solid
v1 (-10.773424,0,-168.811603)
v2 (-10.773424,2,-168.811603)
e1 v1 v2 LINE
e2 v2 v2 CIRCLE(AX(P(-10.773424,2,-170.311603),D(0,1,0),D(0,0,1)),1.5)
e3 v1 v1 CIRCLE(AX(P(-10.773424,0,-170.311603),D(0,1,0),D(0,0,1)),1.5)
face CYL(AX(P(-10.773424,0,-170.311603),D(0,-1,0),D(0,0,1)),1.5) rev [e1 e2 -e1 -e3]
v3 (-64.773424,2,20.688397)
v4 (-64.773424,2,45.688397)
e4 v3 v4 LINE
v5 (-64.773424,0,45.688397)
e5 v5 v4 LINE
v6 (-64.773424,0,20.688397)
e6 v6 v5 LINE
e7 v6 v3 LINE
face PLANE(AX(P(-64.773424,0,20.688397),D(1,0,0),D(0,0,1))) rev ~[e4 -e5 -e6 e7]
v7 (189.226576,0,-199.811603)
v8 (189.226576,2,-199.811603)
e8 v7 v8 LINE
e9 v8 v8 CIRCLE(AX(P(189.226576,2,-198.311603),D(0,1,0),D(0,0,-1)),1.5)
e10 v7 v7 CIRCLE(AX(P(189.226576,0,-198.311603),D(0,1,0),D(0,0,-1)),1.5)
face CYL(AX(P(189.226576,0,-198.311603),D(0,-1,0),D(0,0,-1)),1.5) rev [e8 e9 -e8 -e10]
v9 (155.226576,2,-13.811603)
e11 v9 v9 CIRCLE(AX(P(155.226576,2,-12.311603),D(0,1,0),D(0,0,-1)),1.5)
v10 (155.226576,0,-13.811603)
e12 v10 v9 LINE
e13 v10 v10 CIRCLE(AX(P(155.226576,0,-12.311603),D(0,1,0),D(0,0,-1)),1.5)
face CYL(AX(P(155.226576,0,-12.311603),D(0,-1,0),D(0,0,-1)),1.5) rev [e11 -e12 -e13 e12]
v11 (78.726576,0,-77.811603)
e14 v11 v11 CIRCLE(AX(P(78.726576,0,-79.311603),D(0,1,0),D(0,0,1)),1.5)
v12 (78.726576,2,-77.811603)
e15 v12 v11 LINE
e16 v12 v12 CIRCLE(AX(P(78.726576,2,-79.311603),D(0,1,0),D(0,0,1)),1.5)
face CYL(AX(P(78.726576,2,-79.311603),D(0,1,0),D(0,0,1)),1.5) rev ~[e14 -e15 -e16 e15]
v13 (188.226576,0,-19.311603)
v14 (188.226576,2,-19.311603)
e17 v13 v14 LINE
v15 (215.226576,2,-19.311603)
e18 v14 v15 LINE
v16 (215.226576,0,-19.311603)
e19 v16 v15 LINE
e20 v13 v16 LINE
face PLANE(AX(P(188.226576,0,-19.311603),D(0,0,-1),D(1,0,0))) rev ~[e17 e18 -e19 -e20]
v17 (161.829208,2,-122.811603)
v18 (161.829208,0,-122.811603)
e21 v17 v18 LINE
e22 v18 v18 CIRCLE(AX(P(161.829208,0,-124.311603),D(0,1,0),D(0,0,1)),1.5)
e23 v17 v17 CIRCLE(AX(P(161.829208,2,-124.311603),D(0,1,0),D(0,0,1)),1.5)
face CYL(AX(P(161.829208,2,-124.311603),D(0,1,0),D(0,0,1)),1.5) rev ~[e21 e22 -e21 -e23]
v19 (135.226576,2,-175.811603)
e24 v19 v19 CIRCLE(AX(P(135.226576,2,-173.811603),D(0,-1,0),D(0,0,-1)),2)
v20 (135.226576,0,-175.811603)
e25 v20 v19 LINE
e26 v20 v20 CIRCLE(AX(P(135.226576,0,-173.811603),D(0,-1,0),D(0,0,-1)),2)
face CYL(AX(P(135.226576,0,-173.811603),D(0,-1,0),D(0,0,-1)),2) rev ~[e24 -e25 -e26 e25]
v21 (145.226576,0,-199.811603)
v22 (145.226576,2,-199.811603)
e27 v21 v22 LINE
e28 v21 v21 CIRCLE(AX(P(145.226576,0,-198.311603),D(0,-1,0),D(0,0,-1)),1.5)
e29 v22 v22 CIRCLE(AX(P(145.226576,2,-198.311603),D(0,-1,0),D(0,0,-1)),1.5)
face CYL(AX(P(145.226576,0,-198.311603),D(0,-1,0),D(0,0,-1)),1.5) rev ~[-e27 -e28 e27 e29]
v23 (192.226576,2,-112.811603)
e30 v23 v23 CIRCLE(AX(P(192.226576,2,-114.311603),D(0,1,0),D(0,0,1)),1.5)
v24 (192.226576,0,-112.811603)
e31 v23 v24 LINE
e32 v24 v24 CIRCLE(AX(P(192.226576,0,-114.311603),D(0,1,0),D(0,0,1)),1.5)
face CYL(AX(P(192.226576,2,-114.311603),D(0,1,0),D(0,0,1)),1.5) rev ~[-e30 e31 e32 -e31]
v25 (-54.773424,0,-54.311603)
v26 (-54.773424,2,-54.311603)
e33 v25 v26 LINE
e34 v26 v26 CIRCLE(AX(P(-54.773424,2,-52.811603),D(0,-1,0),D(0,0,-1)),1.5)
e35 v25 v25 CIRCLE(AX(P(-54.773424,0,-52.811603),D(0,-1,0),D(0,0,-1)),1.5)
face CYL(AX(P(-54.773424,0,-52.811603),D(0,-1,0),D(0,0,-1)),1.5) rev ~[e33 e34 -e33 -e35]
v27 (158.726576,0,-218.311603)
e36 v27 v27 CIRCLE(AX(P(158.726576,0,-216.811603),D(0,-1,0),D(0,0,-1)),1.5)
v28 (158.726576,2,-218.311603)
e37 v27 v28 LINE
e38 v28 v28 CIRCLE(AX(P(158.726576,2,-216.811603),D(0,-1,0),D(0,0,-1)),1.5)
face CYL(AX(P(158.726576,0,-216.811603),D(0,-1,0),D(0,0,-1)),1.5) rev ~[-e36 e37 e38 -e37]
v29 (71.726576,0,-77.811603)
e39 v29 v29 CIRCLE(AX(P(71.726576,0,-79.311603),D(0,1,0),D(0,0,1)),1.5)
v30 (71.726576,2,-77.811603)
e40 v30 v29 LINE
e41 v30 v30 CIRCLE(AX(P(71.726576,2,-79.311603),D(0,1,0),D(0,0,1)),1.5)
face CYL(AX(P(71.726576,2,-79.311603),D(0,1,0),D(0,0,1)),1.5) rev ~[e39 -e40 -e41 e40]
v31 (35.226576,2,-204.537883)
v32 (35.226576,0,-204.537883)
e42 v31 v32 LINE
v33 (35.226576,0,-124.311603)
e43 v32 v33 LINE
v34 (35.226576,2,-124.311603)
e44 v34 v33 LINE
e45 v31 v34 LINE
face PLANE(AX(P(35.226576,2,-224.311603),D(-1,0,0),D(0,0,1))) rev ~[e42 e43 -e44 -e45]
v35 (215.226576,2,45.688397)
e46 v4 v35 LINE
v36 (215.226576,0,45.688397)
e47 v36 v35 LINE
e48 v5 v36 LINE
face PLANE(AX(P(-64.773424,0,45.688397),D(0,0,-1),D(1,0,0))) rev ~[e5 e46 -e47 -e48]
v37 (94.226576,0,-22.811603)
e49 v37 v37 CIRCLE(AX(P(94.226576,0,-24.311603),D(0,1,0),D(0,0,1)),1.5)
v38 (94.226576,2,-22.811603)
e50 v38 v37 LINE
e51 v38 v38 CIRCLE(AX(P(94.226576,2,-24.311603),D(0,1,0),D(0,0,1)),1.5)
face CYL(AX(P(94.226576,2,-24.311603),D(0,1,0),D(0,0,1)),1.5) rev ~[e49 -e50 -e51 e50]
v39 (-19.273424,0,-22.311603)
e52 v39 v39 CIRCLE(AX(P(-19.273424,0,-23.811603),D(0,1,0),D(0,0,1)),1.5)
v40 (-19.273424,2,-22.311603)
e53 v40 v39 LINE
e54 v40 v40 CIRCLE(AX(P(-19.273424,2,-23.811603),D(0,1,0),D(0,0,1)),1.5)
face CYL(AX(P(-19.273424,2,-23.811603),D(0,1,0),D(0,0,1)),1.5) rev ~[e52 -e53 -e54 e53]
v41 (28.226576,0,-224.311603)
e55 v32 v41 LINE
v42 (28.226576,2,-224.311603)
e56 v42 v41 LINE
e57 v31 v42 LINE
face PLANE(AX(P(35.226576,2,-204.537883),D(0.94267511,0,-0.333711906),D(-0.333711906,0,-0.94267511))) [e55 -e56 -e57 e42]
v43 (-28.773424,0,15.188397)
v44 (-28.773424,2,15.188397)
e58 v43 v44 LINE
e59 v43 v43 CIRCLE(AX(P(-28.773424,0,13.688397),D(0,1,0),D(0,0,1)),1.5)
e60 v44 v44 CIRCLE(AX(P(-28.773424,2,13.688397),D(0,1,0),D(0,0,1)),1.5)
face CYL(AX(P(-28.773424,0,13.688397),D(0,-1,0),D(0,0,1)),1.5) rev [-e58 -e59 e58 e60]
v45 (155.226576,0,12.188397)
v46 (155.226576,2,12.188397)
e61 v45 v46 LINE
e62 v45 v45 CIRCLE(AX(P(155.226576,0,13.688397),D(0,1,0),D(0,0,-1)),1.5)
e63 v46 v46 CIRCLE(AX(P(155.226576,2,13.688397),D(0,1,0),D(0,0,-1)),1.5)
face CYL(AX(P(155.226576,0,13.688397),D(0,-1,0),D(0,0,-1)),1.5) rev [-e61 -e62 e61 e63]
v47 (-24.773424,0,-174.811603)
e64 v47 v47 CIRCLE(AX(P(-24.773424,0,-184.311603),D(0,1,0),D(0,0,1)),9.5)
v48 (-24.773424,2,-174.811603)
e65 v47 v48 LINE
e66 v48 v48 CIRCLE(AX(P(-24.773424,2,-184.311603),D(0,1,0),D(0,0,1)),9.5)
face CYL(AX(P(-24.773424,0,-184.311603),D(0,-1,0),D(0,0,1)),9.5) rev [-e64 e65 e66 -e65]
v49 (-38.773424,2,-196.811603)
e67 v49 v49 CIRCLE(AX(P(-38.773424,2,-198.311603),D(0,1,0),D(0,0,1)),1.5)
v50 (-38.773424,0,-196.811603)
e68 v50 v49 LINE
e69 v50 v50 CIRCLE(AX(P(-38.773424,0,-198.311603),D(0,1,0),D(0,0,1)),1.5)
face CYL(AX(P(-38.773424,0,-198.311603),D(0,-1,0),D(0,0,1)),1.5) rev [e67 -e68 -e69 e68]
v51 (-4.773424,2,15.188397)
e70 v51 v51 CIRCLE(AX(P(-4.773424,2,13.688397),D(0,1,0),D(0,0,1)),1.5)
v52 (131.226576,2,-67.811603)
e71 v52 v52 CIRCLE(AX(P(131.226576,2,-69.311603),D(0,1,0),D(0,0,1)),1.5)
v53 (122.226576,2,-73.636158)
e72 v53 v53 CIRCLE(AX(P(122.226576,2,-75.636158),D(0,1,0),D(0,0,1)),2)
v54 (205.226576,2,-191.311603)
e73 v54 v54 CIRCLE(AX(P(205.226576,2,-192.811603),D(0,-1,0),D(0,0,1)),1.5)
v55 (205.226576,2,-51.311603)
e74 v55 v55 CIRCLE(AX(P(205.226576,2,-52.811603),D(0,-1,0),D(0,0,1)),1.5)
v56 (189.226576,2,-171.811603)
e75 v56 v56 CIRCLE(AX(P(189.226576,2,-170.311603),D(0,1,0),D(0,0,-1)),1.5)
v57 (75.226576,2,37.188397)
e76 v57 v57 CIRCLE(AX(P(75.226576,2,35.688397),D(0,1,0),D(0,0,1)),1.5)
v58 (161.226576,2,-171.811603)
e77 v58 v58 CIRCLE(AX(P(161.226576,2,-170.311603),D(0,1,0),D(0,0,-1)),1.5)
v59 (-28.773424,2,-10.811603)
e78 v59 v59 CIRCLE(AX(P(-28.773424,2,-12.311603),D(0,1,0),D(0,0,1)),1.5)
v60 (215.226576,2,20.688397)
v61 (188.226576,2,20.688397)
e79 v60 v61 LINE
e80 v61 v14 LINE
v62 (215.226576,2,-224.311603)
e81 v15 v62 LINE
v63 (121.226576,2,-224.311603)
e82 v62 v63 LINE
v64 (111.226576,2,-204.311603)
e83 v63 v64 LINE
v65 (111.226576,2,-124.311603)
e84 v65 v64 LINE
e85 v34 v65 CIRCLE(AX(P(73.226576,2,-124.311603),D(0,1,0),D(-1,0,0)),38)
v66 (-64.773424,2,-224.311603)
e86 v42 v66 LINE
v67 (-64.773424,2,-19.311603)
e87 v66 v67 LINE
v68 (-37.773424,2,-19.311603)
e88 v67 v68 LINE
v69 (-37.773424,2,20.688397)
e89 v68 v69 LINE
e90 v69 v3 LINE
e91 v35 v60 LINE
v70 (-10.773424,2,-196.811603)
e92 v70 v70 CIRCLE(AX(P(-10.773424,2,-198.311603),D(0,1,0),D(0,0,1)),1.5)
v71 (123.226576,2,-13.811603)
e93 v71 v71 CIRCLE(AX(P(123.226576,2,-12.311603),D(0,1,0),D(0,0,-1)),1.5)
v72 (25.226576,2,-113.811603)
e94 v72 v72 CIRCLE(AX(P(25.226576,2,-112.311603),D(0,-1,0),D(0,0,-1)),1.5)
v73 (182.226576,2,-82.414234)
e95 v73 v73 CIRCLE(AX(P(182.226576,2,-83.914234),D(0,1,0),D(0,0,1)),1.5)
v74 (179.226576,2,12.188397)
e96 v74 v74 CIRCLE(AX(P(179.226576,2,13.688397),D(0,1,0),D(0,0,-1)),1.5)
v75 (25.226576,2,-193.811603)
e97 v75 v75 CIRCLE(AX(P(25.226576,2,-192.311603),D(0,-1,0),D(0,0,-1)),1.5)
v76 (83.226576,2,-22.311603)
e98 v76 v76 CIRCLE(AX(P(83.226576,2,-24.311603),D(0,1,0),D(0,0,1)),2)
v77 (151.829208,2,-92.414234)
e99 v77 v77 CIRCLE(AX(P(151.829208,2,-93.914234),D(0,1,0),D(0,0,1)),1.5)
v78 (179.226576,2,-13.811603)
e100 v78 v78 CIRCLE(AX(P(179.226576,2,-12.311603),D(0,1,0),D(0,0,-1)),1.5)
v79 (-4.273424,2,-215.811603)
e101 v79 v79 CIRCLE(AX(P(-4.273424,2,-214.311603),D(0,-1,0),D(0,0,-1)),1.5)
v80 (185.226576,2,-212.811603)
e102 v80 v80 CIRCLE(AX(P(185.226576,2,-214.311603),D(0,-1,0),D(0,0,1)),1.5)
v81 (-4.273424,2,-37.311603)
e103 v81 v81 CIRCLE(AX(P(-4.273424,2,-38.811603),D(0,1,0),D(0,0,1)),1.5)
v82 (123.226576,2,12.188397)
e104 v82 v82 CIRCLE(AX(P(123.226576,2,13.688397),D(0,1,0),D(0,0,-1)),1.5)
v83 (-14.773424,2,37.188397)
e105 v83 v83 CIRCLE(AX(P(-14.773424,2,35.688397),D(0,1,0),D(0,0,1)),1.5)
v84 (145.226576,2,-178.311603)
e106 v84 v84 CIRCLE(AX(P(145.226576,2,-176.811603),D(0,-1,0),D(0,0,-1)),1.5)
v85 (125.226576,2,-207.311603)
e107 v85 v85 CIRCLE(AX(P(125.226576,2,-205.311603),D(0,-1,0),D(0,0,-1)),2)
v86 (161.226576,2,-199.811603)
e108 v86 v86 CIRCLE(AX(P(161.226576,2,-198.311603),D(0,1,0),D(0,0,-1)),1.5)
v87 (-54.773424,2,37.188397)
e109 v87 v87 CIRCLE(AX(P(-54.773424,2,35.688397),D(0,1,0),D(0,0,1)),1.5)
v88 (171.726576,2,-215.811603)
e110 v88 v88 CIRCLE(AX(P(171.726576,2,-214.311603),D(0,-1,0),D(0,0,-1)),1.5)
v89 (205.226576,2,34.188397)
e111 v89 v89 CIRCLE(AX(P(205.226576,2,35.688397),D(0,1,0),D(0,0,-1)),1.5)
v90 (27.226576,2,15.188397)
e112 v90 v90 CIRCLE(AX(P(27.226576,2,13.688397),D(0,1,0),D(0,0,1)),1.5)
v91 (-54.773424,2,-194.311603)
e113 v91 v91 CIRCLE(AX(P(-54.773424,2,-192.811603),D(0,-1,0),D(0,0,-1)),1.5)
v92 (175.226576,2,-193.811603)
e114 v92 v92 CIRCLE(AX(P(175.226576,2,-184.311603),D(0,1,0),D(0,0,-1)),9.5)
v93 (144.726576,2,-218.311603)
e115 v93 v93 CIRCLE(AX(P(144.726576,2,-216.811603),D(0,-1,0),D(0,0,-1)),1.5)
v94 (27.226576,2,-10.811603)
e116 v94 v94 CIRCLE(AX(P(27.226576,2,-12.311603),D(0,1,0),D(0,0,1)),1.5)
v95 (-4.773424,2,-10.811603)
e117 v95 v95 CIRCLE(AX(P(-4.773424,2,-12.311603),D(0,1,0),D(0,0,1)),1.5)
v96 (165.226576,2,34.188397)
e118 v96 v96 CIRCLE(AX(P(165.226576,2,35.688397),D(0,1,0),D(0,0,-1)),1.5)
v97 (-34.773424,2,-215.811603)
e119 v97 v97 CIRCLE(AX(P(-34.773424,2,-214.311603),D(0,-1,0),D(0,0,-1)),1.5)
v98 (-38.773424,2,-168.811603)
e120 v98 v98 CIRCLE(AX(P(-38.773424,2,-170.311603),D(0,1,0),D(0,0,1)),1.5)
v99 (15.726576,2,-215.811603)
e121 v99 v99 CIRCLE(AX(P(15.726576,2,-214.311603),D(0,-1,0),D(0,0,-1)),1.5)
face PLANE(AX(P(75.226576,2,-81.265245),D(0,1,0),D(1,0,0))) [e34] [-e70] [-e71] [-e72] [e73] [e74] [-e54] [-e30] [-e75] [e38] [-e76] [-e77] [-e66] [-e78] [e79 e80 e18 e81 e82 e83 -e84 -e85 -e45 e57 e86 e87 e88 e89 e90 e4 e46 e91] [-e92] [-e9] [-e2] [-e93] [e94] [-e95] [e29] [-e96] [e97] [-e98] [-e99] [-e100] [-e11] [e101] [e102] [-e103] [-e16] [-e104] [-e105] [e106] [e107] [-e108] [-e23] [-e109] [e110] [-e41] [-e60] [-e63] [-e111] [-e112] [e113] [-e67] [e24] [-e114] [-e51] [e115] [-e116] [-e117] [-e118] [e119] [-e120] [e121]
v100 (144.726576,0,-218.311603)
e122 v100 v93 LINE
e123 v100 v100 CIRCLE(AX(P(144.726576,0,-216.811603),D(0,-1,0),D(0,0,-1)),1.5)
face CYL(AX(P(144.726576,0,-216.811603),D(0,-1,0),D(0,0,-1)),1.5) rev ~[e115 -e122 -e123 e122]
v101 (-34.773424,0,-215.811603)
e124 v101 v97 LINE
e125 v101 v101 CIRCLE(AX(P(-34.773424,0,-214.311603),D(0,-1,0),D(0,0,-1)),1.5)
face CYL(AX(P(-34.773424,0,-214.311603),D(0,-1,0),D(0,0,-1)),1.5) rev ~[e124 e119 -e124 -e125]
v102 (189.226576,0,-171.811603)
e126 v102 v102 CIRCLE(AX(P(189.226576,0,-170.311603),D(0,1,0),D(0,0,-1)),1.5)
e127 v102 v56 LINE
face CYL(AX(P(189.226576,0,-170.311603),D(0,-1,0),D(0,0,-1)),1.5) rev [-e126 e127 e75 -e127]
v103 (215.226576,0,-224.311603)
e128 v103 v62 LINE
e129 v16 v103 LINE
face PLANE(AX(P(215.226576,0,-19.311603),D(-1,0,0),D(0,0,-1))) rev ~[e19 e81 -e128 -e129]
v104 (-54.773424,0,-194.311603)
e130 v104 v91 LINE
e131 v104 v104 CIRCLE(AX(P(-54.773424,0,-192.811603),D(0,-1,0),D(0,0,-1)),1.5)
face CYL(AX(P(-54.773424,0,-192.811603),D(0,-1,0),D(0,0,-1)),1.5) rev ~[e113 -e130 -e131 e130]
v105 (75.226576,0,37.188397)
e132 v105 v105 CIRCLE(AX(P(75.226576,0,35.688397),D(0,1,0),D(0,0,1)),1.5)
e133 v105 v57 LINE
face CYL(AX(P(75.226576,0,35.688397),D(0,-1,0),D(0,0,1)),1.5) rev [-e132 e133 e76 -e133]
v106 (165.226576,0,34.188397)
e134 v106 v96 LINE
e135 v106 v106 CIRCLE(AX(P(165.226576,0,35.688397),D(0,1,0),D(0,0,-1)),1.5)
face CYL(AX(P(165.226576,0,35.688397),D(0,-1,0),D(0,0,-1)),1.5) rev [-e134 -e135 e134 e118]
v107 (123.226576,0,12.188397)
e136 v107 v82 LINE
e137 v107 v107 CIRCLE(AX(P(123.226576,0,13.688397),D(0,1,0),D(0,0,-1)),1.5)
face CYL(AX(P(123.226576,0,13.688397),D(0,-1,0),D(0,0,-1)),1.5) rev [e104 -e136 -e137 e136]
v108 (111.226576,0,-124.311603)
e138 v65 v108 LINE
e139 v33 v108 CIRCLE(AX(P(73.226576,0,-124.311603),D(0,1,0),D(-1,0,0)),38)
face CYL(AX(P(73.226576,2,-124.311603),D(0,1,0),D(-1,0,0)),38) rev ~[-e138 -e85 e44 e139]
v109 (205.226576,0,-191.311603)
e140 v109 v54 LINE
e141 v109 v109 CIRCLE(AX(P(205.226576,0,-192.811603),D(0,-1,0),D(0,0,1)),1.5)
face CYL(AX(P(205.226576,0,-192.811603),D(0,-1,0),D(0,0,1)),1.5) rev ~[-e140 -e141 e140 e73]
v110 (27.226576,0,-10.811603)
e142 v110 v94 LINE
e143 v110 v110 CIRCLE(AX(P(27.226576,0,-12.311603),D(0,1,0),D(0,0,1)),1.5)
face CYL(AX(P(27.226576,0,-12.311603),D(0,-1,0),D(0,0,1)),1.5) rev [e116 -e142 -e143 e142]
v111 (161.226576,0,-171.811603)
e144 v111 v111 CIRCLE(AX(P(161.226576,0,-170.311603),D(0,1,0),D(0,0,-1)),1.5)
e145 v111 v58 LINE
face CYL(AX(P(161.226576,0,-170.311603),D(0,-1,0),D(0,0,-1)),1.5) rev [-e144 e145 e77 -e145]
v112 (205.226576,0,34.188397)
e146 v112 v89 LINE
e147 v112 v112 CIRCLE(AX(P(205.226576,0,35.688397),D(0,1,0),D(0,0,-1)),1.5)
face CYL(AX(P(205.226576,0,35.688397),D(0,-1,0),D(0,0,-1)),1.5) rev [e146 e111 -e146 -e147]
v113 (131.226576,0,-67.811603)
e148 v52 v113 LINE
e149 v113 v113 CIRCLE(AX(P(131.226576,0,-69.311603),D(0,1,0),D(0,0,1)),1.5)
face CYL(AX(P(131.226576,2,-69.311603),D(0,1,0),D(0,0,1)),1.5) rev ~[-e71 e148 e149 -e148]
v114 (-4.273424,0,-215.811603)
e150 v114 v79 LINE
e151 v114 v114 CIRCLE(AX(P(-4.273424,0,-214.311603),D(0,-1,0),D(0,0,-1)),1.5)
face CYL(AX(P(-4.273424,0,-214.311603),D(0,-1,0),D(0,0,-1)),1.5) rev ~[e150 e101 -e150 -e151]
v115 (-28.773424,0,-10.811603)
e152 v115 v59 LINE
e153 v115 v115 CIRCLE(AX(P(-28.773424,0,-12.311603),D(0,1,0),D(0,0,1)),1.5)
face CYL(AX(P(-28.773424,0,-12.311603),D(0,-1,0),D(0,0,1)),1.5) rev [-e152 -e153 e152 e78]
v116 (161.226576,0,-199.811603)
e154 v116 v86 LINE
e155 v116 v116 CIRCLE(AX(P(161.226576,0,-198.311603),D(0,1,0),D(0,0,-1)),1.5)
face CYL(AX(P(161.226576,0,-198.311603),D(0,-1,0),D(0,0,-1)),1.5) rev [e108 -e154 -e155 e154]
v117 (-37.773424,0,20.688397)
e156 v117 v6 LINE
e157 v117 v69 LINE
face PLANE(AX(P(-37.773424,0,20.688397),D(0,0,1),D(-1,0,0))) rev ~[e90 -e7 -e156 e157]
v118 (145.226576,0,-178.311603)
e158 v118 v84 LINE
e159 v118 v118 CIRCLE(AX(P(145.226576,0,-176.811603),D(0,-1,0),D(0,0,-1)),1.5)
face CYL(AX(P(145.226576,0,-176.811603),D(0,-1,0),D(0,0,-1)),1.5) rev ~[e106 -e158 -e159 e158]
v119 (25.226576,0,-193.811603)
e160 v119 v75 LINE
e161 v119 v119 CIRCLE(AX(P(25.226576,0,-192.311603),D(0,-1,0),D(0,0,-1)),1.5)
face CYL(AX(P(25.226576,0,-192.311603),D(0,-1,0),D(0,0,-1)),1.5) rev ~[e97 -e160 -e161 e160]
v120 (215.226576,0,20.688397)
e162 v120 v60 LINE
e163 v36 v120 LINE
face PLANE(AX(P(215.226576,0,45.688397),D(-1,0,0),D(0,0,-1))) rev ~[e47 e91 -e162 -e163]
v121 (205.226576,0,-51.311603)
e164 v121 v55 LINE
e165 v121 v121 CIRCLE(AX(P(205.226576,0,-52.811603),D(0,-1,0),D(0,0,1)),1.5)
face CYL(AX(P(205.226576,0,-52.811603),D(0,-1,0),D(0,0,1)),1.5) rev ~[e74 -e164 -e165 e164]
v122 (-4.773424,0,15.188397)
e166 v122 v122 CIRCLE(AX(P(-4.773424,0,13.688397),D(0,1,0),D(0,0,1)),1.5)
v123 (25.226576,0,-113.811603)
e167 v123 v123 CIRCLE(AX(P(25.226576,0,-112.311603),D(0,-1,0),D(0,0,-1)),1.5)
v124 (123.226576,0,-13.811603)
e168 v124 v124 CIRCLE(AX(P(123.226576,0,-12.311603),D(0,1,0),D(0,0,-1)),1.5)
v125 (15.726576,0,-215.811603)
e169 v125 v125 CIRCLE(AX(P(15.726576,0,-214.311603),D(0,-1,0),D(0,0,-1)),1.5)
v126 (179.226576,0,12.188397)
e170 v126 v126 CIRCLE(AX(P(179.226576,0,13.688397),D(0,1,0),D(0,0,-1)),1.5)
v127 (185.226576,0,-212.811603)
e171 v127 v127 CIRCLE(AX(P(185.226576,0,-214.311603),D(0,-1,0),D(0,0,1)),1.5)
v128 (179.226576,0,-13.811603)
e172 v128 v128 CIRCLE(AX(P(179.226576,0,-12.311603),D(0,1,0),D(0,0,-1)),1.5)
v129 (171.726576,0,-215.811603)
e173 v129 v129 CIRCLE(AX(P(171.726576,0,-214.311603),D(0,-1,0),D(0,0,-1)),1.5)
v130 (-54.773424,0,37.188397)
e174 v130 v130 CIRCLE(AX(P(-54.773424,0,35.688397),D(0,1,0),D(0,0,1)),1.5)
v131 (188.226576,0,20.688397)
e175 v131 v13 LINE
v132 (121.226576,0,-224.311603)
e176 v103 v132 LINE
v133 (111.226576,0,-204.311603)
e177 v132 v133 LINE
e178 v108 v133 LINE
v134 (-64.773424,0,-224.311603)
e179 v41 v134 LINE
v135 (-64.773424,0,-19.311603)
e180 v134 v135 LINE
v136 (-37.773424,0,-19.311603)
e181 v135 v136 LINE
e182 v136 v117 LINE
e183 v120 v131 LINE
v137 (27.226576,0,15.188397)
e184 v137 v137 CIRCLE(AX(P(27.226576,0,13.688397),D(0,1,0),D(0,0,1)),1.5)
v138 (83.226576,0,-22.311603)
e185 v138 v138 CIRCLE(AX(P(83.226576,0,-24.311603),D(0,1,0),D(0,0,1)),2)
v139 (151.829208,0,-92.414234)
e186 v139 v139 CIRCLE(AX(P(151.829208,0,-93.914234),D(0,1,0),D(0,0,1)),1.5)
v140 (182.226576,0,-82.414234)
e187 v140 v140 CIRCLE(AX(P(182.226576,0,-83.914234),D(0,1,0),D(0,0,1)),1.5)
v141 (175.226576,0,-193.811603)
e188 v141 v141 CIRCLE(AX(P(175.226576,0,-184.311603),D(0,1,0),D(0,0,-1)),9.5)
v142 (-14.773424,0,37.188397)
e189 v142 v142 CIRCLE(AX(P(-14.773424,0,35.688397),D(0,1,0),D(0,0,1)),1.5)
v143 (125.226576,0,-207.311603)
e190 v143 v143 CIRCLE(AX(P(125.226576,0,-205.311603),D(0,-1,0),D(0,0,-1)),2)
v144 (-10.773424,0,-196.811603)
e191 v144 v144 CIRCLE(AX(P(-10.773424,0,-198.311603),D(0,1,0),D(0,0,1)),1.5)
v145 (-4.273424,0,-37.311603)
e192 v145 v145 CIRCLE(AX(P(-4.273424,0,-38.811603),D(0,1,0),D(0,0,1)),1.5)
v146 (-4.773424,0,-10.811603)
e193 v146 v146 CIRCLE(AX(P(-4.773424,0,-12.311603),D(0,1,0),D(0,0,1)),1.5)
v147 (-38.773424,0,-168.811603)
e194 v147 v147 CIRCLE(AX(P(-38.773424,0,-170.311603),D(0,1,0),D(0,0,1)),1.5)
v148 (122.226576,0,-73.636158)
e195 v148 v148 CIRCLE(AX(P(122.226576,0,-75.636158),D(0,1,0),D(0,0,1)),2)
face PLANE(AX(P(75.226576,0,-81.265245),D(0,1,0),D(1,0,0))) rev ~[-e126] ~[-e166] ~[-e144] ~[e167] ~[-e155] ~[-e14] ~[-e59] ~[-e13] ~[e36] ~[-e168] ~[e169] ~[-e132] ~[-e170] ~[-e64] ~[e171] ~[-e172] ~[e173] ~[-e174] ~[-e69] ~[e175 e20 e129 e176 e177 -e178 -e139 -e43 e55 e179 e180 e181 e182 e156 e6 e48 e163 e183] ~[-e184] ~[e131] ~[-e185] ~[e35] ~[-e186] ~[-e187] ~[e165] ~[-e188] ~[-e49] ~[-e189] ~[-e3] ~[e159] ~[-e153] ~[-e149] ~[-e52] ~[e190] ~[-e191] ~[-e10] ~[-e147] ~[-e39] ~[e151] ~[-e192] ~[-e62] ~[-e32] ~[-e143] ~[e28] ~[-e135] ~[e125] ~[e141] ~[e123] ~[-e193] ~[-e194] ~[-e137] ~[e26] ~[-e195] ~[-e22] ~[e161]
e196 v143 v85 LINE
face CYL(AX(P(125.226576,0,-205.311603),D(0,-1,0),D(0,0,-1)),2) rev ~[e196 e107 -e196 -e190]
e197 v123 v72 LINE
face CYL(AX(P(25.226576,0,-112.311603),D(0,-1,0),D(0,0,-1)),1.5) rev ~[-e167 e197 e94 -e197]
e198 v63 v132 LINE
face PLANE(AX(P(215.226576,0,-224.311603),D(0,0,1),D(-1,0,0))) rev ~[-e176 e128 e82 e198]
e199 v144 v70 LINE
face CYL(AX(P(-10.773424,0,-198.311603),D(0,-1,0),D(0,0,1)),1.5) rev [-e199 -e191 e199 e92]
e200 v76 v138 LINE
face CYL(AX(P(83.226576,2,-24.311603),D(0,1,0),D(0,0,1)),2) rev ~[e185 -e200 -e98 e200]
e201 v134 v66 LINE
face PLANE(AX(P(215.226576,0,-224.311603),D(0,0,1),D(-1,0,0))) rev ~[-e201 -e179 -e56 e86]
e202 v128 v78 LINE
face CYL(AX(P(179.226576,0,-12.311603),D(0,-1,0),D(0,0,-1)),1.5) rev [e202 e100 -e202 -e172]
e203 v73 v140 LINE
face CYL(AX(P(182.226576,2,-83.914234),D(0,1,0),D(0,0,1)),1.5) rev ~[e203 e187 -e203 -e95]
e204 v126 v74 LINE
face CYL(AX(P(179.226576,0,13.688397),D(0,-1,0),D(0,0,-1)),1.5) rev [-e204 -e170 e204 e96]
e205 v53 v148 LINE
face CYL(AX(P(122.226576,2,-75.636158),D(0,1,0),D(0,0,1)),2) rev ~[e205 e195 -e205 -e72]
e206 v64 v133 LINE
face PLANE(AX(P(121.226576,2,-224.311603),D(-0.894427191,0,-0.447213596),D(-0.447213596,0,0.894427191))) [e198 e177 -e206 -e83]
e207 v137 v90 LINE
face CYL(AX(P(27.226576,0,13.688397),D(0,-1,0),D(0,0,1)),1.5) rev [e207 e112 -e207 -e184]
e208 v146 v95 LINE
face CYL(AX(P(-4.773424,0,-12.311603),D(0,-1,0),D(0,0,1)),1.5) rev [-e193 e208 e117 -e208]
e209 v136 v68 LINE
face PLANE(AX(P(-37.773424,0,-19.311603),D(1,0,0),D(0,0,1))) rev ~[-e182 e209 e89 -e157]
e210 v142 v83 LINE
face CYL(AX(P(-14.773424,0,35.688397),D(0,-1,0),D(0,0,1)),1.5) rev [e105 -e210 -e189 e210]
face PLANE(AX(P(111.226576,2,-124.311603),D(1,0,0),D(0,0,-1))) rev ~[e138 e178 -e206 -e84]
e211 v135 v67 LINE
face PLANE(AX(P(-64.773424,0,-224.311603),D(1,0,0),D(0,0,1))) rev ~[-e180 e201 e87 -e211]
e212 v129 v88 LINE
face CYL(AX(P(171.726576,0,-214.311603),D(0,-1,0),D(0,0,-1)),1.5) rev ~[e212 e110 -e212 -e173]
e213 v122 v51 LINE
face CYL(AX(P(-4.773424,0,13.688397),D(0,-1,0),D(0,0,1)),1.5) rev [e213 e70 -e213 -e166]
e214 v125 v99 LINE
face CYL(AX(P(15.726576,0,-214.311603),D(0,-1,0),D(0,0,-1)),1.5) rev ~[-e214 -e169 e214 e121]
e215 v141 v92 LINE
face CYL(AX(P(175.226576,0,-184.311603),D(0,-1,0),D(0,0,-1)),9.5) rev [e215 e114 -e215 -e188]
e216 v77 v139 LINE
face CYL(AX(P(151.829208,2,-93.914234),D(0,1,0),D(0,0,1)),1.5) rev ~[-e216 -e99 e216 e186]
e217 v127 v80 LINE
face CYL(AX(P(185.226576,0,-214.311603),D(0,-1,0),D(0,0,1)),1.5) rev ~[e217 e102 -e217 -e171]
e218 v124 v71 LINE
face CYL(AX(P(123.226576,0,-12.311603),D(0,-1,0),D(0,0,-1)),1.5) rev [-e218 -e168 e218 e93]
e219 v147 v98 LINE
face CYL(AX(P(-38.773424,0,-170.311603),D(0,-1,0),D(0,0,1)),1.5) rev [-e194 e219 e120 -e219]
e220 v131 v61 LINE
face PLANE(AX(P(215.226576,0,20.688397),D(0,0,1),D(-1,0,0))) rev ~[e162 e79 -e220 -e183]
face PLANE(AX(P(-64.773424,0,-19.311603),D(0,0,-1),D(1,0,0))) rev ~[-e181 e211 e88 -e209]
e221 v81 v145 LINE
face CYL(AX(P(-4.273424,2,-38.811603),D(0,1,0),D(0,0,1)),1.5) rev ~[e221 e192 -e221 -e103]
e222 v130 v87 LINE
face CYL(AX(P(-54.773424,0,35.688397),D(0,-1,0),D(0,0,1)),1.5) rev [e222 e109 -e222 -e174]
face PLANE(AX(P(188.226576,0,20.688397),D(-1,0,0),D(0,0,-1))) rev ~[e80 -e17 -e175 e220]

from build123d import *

# Parameters (mm, degrees)
ESQUISSE1_R      = 1.5
ESQUISSE1_R_2    = 9.5
EXTRUSION1_DEPTH = 2
EXTRUSION3_DEPTH = 311.873244438
ESQUISSE4_R      = 1.5
ESQUISSE4_R_2    = 2
EXTRUSION4_DEPTH = 10
ESQUISSE5_R      = 1.5
ESQUISSE5_R_2    = 2
EXTRUSION5_DEPTH = 10
EXTRUSION6_DEPTH = 10
ESQUISSE7_R      = 1.5
EXTRUSION7_DEPTH = 10
ESQUISSE8_R      = 1.5
EXTRUSION8_DEPTH = 10


with BuildPart() as part:
    # Esquisse1 → Extrusion1 (new body)
    with BuildSketch(Plane(origin=(0, 0, 0), x_dir=(1, 0, 0), z_dir=(0, 1, 0))):
        Polygon((215.226575971, 224.311602694), (-64.773424029, 224.311602694), (-64.773424029, 19.311602694), (-37.773424029, 19.311602694), (-37.773424029, -20.688397306), (-64.773424029, -20.688397306), (-64.773424029, -45.688397306), (215.226575971, -45.688397306), (215.226575971, -20.688397306), (188.226575971, -20.688397306), (188.226575971, 19.311602694), (215.226575971, 19.311602694), align=None)
        with Locations(Location((27.226575971, 12.311602694, 0), (0, 0, 270))):
            Circle(ESQUISSE1_R, mode=Mode.SUBTRACT)
        with Locations(Location((27.226575971, -13.688397306, 0), (0, 0, 270))):
            Circle(ESQUISSE1_R, mode=Mode.SUBTRACT)
        with Locations(Location((123.226575971, -13.688397306, 0), (0, 0, 90))):
            Circle(ESQUISSE1_R, mode=Mode.SUBTRACT)
        with Locations(Location((-54.773424029, -35.688397306, 0), (0, 0, 270))):
            Circle(ESQUISSE1_R, mode=Mode.SUBTRACT)
        with Locations(Location((205.226575971, -35.688397306, 0), (0, 0, 90))):
            Circle(ESQUISSE1_R, mode=Mode.SUBTRACT)
        with Locations(Location((-28.773424029, 12.311602694, 0), (0, 0, 270))):
            Circle(ESQUISSE1_R, mode=Mode.SUBTRACT)
        with Locations(Location((-28.773424029, -13.688397306, 0), (0, 0, 270))):
            Circle(ESQUISSE1_R, mode=Mode.SUBTRACT)
        with Locations(Location((-4.773424029, 12.311602694, 0), (0, 0, 270))):
            Circle(ESQUISSE1_R, mode=Mode.SUBTRACT)
        with Locations(Location((-4.773424029, -13.688397306, 0), (0, 0, 270))):
            Circle(ESQUISSE1_R, mode=Mode.SUBTRACT)
        with Locations(Location((165.226575971, -35.688397306, 0), (0, 0, 90))):
            Circle(ESQUISSE1_R, mode=Mode.SUBTRACT)
        with Locations(Location((155.226575971, -13.688397306, 0), (0, 0, 90))):
            Circle(ESQUISSE1_R, mode=Mode.SUBTRACT)
        with Locations(Location((155.226575971, 12.311602694, 0), (0, 0, 90))):
            Circle(ESQUISSE1_R, mode=Mode.SUBTRACT)
        with Locations(Location((179.226575971, -13.688397306, 0), (0, 0, 90))):
            Circle(ESQUISSE1_R, mode=Mode.SUBTRACT)
        with Locations(Location((179.226575971, 12.311602694, 0), (0, 0, 90))):
            Circle(ESQUISSE1_R, mode=Mode.SUBTRACT)
        with Locations(Location((-24.773424029, 184.311602694, 0), (0, 0, 270))):
            Circle(ESQUISSE1_R_2, mode=Mode.SUBTRACT)
        with Locations(Location((-38.773424029, 198.311602694, 0), (0, 0, 270))):
            Circle(ESQUISSE1_R, mode=Mode.SUBTRACT)
        with Locations(Location((-10.773424029, 170.311602694, 0), (0, 0, 270))):
            Circle(ESQUISSE1_R, mode=Mode.SUBTRACT)
        with Locations(Location((-38.773424029, 170.311602694, 0), (0, 0, 270))):
            Circle(ESQUISSE1_R, mode=Mode.SUBTRACT)
        with Locations(Location((-10.773424029, 198.311602694, 0), (0, 0, 270))):
            Circle(ESQUISSE1_R, mode=Mode.SUBTRACT)
        with Locations(Location((161.226575971, 198.311602694, 0), (0, 0, 90))):
            Circle(ESQUISSE1_R, mode=Mode.SUBTRACT)
        with Locations(Location((189.226575971, 170.311602694, 0), (0, 0, 90))):
            Circle(ESQUISSE1_R, mode=Mode.SUBTRACT)
        with Locations(Location((161.226575971, 170.311602694, 0), (0, 0, 90))):
            Circle(ESQUISSE1_R, mode=Mode.SUBTRACT)
        with Locations(Location((189.226575971, 198.311602694, 0), (0, 0, 90))):
            Circle(ESQUISSE1_R, mode=Mode.SUBTRACT)
        with Locations(Location((175.226575971, 184.311602694, 0), (0, 0, 90))):
            Circle(ESQUISSE1_R_2, mode=Mode.SUBTRACT)
        with Locations(Location((-14.773424029, -35.688397306, 0), (0, 0, 270))):
            Circle(ESQUISSE1_R, mode=Mode.SUBTRACT)
        with Locations(Location((75.226575971, -35.688397306, 0), (0, 0, 270))):
            Circle(ESQUISSE1_R, mode=Mode.SUBTRACT)
        with Locations(Location((123.226575971, 12.311602694, 0), (0, 0, 90))):
            Circle(ESQUISSE1_R, mode=Mode.SUBTRACT)
    extrude(amount=EXTRUSION1_DEPTH)

    # Esquisse3 → Extrusion3 (cut, through all)
    with BuildSketch(Plane(origin=(0, 2, 0), x_dir=(-1, 0, 0), z_dir=(0, 1, 0))):
        with BuildLine():
            Line((-35.226575971, -224.311602694), (-35.226575971, -124.311602694))
            ThreePointArc((-35.226575971, -124.311602694), (-73.226575971, -86.311602694), (-111.226575971, -124.311602694))
            Line((-111.226575971, -124.311602694), (-111.226575971, -224.311602694))
            Line((-111.226575971, -224.311602694), (-35.226575971, -224.311602694))
        make_face()
    extrude(amount=-EXTRUSION3_DEPTH, mode=Mode.SUBTRACT)

    # Esquisse4 → Extrusion4 (cut)
    with BuildSketch(Plane.XZ):
        with Locations(Location((-54.773424029, -192.811602694, 0), (0, 0, 270))):
            Circle(ESQUISSE4_R)
        with Locations(Location((-54.773424029, -52.811602694, 0), (0, 0, 270))):
            Circle(ESQUISSE4_R)
        with Locations(Location((205.226575971, -52.811602694, 0), (0, 0, 90))):
            Circle(ESQUISSE4_R)
        with Locations(Location((205.226575971, -192.811602694, 0), (0, 0, 90))):
            Circle(ESQUISSE4_R)
        with Locations(Location((-34.773424029, -214.311602694, 0), (0, 0, 270))):
            Circle(ESQUISSE4_R)
        with Locations(Location((-4.273424029, -214.311602694, 0), (0, 0, 270))):
            Circle(ESQUISSE4_R)
        with Locations(Location((171.726575971, -214.311602694, 0), (0, 0, 270))):
            Circle(ESQUISSE4_R)
        with Locations(Location((185.226575971, -214.311602694, 0), (0, 0, 90))):
            Circle(ESQUISSE4_R)
        with Locations(Location((15.726575971, -214.311602694, 0), (0, 0, 270))):
            Circle(ESQUISSE4_R)
        with Locations(Location((158.726575971, -216.811602694, 0), (0, 0, 270))):
            Circle(ESQUISSE4_R)
        with Locations(Location((25.226575971, -192.311602694, 0), (0, 0, 270))):
            Circle(ESQUISSE4_R)
        with Locations(Location((25.226575971, -112.311602694, 0), (0, 0, 270))):
            Circle(ESQUISSE4_R)
        with Locations(Location((144.726575971, -216.811602694, 0), (0, 0, 270))):
            Circle(ESQUISSE4_R)
        with Locations(Location((125.226575971, -205.311602694, 0), (0, 0, 270))):
            Circle(ESQUISSE4_R_2)
        with Locations(Location((145.226575971, -176.811602694, 0), (0, 0, 270))):
            Circle(ESQUISSE4_R)
        with Locations(Location((145.226575971, -198.311602694, 0), (0, 0, 270))):
            Circle(ESQUISSE4_R)
        with Locations(Location((135.226575971, -173.811602694, 0), (0, 0, 270))):
            Circle(ESQUISSE4_R_2)
    extrude(amount=-EXTRUSION4_DEPTH, mode=Mode.SUBTRACT)

    # Esquisse5 → Extrusion5 (cut)
    with BuildSketch(Plane(origin=(0, 2, 0), x_dir=(-1, 0, 0), z_dir=(0, 1, 0))):
        with Locations(Location((-131.226575971, -69.311602694, 0), (0, 0, 90))):
            Circle(ESQUISSE5_R)
        with Locations(Location((-122.226575971, -75.636158015, 0), (0, 0, 90))):
            Circle(ESQUISSE5_R_2)
        with Locations(Location((-151.829207664, -93.914234387, 0), (0, 0, 90))):
            Circle(ESQUISSE5_R)
        with Locations(Location((-161.829207664, -124.311602694, 0), (0, 0, 90))):
            Circle(ESQUISSE5_R)
        with Locations(Location((-83.226575971, -24.311602694, 0), (0, 0, 90))):
            Circle(ESQUISSE5_R_2)
        with Locations(Location((-94.226575971, -24.311602694, 0), (0, 0, 90))):
            Circle(ESQUISSE5_R)
        with Locations(Location((-192.226575971, -114.311602694, 0), (0, 0, 90))):
            Circle(ESQUISSE5_R)
        with Locations(Location((-182.226575971, -83.914234387, 0), (0, 0, 90))):
            Circle(ESQUISSE5_R)
    extrude(amount=-EXTRUSION5_DEPTH, mode=Mode.SUBTRACT)

    # Esquisse6 → Extrusion6 (cut)
    with BuildSketch(Plane(origin=(0, 2, 0), x_dir=(-1, 0, 0), z_dir=(0, 1, 0))):
        Polygon((-28.226575971, -224.311602694), (-38.226575971, -224.311602694), (-35.226575971, -204.537882761), align=None)
        Polygon((-111.226575971, -224.311602694), (-121.226575971, -224.311602694), (-111.226575971, -204.311602694), align=None)
    extrude(amount=-EXTRUSION6_DEPTH, mode=Mode.SUBTRACT)

    # Esquisse7 → Extrusion7 (cut)
    with BuildSketch(Plane(origin=(0, 2, 0), x_dir=(-1, 0, 0), z_dir=(0, 1, 0))):
        with Locations(Location((-71.726575971, -79.311602694, 0), (0, 0, 90))):
            Circle(ESQUISSE7_R)
        with Locations(Location((-78.726575971, -79.311602694, 0), (0, 0, 90))):
            Circle(ESQUISSE7_R)
    extrude(amount=-EXTRUSION7_DEPTH, mode=Mode.SUBTRACT)

    # Esquisse8 → Extrusion8 (cut)
    with BuildSketch(Plane(origin=(0, 2, 0), x_dir=(-1, 0, 0), z_dir=(0, 1, 0))):
        with Locations(Location((19.273424029, -23.811602694, 0), (0, 0, 90))):
            Circle(ESQUISSE8_R)
        with Locations(Location((4.273424029, -38.811602694, 0), (0, 0, 90))):
            Circle(ESQUISSE8_R)
    extrude(amount=-EXTRUSION8_DEPTH, mode=Mode.SUBTRACT)


solid = part.part
